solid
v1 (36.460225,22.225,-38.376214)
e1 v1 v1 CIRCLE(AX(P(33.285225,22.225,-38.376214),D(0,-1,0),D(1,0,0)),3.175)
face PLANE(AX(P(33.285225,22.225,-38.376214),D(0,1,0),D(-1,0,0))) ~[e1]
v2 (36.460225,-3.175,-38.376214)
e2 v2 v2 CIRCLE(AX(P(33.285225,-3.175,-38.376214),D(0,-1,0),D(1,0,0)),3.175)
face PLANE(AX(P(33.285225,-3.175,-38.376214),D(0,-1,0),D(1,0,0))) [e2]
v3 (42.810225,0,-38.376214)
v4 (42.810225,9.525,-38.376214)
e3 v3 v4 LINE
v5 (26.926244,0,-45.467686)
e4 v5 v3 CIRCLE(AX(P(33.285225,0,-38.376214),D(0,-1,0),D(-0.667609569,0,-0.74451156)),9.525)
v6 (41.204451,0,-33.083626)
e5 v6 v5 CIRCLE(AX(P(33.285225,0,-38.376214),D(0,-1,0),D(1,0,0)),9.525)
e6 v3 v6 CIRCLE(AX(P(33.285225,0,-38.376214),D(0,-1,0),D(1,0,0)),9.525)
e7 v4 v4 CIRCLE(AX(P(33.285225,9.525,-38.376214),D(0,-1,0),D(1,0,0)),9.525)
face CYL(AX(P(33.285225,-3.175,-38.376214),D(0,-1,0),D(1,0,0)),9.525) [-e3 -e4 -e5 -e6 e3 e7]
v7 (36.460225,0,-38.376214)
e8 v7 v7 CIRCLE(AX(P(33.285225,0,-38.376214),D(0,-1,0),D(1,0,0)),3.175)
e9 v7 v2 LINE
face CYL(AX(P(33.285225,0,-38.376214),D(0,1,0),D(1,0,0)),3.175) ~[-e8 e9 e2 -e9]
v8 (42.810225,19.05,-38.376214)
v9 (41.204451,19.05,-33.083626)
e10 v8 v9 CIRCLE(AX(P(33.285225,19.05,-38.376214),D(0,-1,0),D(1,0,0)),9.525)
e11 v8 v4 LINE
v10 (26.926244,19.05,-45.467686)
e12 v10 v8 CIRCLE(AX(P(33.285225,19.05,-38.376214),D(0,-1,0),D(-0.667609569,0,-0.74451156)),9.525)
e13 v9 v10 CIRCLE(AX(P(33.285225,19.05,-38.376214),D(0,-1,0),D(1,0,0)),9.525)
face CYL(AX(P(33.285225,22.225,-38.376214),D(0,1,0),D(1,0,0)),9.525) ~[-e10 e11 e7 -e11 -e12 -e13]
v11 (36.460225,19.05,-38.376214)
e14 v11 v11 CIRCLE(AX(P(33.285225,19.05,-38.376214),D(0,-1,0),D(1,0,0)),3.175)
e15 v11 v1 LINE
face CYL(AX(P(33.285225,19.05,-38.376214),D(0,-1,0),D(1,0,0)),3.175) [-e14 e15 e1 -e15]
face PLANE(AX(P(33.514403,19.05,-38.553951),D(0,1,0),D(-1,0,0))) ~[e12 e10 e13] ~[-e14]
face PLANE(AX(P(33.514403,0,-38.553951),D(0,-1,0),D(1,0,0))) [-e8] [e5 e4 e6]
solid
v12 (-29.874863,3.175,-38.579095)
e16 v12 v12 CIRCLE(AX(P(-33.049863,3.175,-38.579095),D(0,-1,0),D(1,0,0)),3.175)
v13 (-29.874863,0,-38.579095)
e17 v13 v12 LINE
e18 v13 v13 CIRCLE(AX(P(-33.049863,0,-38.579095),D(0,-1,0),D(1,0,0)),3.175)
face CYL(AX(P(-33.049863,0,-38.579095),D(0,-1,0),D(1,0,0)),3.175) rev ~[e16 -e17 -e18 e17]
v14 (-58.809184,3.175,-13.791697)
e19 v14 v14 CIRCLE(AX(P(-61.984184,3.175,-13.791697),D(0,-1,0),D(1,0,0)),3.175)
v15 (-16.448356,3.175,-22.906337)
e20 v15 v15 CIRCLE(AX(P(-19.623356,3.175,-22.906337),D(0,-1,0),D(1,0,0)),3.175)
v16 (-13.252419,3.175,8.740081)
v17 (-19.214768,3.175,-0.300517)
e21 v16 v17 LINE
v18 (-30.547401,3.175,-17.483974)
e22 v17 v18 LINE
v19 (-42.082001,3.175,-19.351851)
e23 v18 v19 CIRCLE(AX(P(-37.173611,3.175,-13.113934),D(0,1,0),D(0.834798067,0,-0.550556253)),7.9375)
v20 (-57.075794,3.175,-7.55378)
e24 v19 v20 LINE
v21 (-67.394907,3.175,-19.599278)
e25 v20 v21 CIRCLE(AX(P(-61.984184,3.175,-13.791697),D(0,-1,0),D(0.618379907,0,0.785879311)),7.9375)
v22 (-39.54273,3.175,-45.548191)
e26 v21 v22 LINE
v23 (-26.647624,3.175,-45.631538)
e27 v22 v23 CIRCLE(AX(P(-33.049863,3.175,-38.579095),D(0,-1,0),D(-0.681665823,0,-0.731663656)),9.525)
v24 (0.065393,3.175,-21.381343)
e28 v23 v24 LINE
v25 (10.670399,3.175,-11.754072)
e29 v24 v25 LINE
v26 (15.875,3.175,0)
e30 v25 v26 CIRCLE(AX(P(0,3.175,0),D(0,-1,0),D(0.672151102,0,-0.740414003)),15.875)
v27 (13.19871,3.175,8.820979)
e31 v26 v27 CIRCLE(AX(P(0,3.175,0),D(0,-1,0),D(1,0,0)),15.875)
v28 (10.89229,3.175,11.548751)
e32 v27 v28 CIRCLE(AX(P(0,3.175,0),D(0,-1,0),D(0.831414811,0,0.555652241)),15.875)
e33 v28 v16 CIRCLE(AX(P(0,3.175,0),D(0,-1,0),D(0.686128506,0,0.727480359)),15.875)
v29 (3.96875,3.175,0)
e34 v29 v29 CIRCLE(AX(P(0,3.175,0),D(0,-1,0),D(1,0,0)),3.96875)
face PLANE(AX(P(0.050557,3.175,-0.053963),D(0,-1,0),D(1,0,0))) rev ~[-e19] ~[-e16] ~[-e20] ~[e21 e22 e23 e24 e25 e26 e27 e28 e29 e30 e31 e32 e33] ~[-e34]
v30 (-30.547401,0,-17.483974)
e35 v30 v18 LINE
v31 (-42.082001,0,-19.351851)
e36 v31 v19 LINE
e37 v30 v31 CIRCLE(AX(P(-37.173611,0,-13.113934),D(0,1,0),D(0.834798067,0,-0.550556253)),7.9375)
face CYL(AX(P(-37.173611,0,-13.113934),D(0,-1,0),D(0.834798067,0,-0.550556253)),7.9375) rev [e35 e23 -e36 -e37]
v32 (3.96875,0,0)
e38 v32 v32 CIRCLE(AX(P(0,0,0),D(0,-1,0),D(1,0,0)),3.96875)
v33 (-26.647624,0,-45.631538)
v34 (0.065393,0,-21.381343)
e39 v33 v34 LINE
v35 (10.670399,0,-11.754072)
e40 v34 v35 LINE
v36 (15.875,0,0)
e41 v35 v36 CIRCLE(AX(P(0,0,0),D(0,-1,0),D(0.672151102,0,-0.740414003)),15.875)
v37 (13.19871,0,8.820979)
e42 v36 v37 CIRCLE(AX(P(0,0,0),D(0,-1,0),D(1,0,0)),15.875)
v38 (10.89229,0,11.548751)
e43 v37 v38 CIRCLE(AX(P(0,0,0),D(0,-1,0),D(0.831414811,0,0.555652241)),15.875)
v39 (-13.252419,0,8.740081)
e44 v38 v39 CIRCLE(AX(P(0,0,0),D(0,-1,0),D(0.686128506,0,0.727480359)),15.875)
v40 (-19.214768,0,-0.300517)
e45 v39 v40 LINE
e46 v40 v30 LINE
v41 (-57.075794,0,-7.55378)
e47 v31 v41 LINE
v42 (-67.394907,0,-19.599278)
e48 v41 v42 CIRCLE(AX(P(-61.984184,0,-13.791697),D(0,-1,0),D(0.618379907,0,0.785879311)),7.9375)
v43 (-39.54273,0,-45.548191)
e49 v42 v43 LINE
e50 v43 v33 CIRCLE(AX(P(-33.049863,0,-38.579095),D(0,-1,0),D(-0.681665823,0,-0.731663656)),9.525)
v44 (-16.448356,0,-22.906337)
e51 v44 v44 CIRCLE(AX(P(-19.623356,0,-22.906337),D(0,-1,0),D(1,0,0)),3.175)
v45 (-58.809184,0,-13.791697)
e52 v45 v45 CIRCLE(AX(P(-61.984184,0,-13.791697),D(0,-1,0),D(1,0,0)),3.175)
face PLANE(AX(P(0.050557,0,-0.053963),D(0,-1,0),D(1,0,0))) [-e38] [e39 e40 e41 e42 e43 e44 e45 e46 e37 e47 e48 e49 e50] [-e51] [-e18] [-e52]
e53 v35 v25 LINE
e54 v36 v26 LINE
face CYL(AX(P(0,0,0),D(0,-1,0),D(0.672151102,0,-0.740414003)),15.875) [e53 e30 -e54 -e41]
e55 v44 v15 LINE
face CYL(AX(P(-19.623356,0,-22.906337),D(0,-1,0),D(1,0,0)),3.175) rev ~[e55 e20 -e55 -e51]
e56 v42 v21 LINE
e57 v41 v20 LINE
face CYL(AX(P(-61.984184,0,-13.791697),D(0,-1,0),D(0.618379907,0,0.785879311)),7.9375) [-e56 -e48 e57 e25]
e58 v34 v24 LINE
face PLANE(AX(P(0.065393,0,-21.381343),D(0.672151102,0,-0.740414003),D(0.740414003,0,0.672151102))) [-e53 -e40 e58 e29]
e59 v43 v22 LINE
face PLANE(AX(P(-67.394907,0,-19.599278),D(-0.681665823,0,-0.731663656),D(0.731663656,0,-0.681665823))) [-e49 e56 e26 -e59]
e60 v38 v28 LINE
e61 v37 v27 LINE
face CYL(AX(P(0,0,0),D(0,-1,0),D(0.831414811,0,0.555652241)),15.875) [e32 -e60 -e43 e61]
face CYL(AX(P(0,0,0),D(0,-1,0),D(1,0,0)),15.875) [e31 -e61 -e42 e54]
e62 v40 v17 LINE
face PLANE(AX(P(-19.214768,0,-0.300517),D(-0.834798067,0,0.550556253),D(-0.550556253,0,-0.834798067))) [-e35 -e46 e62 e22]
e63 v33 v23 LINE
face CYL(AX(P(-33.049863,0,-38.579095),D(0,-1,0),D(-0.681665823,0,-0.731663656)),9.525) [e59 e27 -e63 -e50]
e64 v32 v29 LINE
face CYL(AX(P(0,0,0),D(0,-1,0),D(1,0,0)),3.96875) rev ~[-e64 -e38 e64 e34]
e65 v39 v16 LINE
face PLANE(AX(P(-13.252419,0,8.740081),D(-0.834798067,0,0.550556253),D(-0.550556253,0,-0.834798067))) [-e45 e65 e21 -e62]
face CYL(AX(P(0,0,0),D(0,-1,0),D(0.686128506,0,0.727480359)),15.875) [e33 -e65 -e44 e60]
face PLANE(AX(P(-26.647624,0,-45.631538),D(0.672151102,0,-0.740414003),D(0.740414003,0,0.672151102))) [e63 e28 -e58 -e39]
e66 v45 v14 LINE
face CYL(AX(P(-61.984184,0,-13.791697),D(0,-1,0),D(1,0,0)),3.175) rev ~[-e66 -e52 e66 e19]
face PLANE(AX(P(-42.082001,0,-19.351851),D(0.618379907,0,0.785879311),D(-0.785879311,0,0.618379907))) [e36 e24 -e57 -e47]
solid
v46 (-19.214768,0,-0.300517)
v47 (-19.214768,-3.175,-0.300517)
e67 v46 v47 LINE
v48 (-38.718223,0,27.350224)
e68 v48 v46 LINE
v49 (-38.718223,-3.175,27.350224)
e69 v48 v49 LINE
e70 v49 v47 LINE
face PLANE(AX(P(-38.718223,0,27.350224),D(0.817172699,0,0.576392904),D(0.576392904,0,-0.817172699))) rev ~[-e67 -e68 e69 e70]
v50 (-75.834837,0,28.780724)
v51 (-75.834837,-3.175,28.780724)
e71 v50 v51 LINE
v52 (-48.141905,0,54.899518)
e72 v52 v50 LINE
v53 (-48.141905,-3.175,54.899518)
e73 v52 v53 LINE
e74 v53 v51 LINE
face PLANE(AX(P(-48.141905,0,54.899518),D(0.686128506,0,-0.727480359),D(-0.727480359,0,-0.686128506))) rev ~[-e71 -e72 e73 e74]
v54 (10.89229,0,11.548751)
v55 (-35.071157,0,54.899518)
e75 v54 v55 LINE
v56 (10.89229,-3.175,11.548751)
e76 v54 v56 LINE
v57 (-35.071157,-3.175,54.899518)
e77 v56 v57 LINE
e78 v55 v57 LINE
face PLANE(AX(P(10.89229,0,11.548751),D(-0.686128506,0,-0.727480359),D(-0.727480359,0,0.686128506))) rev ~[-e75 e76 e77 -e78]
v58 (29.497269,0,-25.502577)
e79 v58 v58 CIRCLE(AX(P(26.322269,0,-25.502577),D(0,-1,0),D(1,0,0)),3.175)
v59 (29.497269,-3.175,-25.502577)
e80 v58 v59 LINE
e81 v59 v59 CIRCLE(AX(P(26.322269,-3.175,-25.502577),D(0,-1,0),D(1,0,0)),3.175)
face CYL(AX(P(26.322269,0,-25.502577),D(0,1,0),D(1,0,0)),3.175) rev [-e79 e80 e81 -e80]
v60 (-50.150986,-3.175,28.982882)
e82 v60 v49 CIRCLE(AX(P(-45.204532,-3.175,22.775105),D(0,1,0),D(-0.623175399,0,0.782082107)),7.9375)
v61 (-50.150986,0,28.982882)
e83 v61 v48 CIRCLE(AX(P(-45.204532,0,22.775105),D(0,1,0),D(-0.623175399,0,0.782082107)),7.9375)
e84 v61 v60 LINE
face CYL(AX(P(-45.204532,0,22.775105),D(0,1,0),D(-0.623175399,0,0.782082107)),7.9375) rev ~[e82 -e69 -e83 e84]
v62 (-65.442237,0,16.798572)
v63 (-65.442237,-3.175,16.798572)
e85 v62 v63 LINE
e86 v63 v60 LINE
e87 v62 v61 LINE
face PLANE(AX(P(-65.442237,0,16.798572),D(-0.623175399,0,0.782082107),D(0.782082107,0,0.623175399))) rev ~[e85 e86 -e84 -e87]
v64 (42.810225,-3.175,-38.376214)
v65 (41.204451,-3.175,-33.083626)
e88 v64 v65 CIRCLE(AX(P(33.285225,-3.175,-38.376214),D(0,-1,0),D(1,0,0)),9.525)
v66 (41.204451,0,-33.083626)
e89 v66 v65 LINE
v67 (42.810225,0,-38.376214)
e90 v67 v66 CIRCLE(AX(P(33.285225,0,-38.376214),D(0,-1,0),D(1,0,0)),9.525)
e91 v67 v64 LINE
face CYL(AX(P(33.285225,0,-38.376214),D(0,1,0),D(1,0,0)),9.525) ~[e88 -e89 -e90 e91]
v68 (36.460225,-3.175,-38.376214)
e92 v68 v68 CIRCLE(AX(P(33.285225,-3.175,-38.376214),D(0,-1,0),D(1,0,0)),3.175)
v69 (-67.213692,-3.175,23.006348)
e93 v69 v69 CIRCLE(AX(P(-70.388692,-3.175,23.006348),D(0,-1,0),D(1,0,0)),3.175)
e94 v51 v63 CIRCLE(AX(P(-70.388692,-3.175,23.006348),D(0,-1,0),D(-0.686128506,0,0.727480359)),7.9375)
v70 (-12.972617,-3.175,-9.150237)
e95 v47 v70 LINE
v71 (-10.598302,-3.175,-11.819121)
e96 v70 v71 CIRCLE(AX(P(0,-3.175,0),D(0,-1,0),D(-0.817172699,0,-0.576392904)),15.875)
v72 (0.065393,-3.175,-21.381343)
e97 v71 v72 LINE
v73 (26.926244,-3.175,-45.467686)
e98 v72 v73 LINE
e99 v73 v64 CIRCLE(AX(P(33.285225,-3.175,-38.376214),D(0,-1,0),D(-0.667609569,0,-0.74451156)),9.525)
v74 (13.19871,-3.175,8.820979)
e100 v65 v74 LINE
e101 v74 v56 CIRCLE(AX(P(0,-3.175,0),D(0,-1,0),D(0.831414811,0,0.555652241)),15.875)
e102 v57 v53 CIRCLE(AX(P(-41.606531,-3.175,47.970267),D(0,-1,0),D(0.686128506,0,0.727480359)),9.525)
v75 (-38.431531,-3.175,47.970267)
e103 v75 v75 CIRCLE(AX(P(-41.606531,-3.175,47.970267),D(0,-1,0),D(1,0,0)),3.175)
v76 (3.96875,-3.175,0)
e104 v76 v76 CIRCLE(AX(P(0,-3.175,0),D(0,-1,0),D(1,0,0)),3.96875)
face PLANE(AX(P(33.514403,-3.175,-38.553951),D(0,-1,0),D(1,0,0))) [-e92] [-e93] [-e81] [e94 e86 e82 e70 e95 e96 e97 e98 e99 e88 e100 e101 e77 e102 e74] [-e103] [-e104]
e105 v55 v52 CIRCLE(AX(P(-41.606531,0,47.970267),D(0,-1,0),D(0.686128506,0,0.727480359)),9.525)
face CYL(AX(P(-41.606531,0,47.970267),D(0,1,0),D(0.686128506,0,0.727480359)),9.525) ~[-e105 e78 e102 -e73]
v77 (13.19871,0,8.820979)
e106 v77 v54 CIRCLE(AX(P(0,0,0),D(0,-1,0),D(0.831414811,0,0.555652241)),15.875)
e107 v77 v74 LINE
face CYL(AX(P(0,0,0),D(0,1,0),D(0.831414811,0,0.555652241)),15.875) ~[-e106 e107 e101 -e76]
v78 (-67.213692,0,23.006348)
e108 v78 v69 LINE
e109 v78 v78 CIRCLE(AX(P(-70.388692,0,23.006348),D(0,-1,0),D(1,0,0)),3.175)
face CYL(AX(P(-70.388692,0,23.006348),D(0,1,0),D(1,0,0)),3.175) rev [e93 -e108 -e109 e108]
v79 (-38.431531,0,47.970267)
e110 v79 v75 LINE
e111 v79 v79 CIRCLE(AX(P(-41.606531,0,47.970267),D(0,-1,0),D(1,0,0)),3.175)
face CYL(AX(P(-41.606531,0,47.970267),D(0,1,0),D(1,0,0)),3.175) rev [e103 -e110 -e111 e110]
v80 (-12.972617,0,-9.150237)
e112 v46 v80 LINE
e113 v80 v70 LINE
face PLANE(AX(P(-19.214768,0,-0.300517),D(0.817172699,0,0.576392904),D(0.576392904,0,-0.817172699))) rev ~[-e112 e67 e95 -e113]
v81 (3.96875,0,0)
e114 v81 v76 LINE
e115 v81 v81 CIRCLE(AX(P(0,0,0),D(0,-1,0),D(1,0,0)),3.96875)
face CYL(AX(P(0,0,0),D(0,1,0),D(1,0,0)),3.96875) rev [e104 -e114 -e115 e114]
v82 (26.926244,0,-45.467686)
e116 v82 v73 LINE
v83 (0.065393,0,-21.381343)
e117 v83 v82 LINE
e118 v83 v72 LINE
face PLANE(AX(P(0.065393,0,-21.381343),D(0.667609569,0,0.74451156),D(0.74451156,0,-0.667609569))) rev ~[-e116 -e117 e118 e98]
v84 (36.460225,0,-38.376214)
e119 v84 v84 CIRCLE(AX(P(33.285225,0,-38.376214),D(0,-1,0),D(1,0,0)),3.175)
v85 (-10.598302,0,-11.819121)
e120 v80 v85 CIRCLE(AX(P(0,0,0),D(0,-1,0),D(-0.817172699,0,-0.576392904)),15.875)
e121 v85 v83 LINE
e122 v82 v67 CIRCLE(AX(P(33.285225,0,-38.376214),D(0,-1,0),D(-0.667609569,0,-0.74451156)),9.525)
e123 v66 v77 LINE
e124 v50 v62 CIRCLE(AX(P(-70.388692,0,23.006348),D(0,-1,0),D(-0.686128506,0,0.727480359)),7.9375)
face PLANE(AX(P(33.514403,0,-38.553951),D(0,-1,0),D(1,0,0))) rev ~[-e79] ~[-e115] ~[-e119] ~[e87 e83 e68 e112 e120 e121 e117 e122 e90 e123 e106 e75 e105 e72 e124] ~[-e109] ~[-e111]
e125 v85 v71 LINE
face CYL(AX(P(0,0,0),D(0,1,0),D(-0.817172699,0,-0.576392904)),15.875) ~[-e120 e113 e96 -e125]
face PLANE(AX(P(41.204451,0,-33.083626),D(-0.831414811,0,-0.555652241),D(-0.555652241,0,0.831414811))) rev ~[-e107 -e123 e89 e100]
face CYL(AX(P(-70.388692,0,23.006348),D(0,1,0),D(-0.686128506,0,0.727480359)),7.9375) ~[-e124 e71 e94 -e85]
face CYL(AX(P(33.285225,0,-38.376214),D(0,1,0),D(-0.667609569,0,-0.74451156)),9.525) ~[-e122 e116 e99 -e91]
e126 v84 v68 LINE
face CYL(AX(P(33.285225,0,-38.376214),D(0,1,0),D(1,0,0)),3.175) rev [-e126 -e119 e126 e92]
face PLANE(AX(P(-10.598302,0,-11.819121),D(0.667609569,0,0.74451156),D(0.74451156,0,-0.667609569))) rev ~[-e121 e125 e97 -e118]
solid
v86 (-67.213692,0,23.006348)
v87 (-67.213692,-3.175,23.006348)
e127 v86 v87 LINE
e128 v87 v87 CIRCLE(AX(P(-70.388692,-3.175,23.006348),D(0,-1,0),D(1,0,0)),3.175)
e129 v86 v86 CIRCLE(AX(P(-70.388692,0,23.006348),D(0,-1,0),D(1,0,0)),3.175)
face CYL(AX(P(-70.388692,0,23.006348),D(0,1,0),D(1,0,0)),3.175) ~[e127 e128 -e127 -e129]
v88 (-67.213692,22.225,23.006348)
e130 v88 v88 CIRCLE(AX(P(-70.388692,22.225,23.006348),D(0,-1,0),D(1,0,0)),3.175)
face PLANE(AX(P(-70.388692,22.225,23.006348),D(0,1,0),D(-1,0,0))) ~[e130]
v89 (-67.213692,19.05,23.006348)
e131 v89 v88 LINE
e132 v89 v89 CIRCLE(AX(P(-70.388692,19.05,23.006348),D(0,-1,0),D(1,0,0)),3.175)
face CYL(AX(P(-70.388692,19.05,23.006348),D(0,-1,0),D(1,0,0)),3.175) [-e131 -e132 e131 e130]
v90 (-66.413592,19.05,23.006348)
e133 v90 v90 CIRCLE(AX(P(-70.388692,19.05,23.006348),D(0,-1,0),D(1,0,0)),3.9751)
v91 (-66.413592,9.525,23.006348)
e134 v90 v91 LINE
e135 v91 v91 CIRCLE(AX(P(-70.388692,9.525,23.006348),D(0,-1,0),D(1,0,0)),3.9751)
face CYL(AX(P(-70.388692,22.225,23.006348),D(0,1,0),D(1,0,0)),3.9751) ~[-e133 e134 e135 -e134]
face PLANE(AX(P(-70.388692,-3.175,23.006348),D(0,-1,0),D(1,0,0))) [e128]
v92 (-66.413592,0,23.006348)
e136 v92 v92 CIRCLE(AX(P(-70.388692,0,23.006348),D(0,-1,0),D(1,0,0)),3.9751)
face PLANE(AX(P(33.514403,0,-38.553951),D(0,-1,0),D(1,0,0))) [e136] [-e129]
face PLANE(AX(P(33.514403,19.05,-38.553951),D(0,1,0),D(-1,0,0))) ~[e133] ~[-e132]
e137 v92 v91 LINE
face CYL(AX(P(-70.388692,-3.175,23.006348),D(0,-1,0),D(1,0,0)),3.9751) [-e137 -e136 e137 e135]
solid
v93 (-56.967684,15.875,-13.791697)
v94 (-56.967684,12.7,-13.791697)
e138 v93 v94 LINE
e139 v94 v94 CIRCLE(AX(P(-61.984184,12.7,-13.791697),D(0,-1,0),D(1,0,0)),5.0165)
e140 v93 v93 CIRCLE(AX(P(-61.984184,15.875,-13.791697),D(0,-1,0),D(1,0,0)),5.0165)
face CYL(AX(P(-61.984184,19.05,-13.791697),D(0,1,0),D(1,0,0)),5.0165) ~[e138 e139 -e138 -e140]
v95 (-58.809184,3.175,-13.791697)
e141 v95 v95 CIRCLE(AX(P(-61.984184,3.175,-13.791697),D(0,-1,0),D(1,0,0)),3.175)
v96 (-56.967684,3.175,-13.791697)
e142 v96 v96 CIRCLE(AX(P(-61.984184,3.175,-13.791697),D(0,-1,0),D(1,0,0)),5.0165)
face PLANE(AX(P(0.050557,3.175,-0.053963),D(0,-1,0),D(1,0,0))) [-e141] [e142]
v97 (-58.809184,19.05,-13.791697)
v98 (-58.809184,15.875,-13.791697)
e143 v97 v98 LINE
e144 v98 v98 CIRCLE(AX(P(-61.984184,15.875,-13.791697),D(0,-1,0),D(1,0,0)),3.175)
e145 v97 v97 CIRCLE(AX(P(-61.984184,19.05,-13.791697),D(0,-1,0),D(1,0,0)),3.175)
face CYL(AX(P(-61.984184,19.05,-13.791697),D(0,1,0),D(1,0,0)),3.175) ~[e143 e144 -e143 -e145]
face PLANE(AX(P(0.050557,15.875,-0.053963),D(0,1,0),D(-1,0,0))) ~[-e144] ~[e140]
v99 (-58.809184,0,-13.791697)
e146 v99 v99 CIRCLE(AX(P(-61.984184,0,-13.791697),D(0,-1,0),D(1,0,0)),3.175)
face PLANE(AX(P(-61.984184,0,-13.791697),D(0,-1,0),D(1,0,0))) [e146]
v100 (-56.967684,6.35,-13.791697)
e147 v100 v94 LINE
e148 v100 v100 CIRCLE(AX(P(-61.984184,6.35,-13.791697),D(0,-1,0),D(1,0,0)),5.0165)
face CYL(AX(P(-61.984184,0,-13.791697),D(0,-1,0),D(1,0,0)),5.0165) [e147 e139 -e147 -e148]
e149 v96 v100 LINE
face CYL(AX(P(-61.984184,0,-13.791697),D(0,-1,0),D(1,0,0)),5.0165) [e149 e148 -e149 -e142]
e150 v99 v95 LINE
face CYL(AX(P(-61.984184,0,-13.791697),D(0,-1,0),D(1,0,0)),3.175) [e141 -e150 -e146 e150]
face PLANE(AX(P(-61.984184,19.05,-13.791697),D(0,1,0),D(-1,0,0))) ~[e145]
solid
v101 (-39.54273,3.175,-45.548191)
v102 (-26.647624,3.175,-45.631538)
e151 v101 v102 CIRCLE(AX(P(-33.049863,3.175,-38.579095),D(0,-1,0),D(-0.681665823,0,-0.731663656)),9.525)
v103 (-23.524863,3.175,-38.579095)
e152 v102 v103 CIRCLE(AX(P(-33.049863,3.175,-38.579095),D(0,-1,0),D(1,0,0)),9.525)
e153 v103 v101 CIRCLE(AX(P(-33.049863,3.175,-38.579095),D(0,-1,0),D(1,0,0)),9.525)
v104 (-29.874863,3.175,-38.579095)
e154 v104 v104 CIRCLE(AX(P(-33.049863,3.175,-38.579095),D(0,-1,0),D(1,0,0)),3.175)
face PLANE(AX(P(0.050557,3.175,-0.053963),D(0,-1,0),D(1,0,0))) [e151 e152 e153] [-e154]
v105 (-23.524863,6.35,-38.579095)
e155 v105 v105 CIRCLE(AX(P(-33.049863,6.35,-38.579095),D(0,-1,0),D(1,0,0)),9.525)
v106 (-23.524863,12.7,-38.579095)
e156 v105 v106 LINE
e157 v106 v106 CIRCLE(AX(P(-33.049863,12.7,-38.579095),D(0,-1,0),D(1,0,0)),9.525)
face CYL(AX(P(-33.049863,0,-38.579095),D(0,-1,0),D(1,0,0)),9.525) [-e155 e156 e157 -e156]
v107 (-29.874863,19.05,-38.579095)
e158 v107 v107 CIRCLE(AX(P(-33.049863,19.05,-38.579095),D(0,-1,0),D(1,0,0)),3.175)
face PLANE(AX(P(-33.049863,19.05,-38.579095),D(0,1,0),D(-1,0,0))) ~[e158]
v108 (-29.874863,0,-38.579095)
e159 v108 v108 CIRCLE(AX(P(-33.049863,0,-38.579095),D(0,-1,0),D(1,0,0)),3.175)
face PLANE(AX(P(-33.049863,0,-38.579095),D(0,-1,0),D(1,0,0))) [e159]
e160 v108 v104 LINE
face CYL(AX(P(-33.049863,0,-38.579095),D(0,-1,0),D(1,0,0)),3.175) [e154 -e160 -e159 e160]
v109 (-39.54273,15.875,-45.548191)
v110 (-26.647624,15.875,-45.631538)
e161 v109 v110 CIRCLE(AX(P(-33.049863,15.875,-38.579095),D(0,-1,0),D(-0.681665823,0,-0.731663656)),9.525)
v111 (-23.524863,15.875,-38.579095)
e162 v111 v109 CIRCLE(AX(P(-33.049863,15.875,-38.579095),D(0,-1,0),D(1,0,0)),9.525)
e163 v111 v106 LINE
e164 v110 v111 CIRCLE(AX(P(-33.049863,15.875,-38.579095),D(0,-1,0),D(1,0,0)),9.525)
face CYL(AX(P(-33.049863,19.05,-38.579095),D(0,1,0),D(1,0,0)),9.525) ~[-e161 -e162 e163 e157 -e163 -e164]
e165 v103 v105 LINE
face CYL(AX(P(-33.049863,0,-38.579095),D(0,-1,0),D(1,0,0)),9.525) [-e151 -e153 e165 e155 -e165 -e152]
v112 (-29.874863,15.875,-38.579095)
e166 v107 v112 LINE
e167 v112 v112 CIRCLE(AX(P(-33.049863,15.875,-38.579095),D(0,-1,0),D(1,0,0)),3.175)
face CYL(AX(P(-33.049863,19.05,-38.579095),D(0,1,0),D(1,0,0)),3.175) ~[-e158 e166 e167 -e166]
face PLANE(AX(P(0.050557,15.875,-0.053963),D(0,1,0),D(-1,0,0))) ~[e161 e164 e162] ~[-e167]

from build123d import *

# Parameters (mm, degrees)
F0_R     = 3.175
F0_R_2   = 3.96875
F2_DEPTH = 3.175
F3_DEPTH = 3.175
F4_R     = 9.525
F6_DEPTH = 12.7
F4_R_2   = 3.9751
F5_R     = 9.525
F5_R_2   = 5.0165


with BuildPart() as f2:
    # F0 (on Front) → F2 (new body)
    with BuildSketch(Plane.XZ):
        with BuildLine():
            ThreePointArc((26.9262440233, -45.4676864135), (37.1682864336, -47.0737686401), (42.8102251661, -38.3762138003))
            ThreePointArc((42.8102251661, -38.3762138003), (42.3999454948, -35.6108027404), (41.2044512386, -33.0836262089))
            ThreePointArc((41.2044512386, -33.0836262089), (27.0442454474, -31.1806737127), (26.9262440233, -45.4676864135))
        make_face()
        with Locations((33.2852251661, -38.3762138003)):
            Circle(F0_R, mode=Mode.SUBTRACT)
        with BuildLine():
            ThreePointArc((-32.0815314576, 47.9702672503), (-32.8608164346, 51.7436071154), (-35.0711574392, 54.8995176744))
            ThreePointArc((-35.0711574392, 54.8995176744), (-41.6065314576, 57.4952672503), (-48.1419054761, 54.8995176744))
            ThreePointArc((-48.1419054761, 54.8995176744), (-45.3798713227, 39.2245522274), (-32.0815314576, 47.9702672503))
        make_face()
        with Locations((-41.6065314576, 47.9702672503)):
            Circle(F0_R, mode=Mode.SUBTRACT)
        with BuildLine():
            ThreePointArc((-62.4511918078, 23.0063483758), (-67.2442419203, 30.2944442282), (-75.8348368232, 28.7807237291))
            ThreePointArc((-75.8348368232, 28.7807237291), (-76.3849752141, 17.8055319436), (-65.4422370763, 16.798571653))
            ThreePointArc((-65.4422370763, 16.798571653), (-63.237943921, 19.5609585706), (-62.4511918078, 23.0063483758))
        make_face()
        with Locations((-70.3886918078, 23.0063483758)):
            Circle(F0_R, mode=Mode.SUBTRACT)
        with BuildLine():
            ThreePointArc((-12.9726166036, -9.1502373442), (-15.8730587934, -0.2482529814), (-13.2524193062, 8.7400805221))
            Line((-13.2524193062, 8.7400805221), (-19.2147683858, -0.3005169703))
            Line((-19.2147683858, -0.3005169703), (-12.9726166036, -9.1502373442))
        make_face()
        with BuildLine():
            Line((-10.5983019047, -11.8191210221), (0.0653932355, -21.3813431455))
            Line((0.0653932355, -21.3813431455), (10.6703987497, -11.7540722953))
            ThreePointArc((10.6703987497, -11.7540722953), (0.0485522706, -15.8749257534), (-10.5983019047, -11.8191210221))
        make_face()
        with BuildLine():
            ThreePointArc((26.9262440233, -45.4676864135), (27.0442454474, -31.1806737127), (41.2044512386, -33.0836262089))
            Line((41.2044512386, -33.0836262089), (13.1987101208, 8.820979319))
            ThreePointArc((13.1987101208, 8.820979319), (15.1912005478, 4.609018433), (15.875, 0))
            ThreePointArc((15.875, 0), (14.5156502636, -6.4274040191), (10.6703987497, -11.7540722953))
            Line((10.6703987497, -11.7540722953), (0.0653932355, -21.3813431455))
            Line((0.0653932355, -21.3813431455), (26.9262440233, -45.4676864135))
        make_face()
        with Locations((26.3222689506, -25.5025770961)):
            Circle(F0_R, mode=Mode.SUBTRACT)
        with BuildLine():
            ThreePointArc((-13.2524193062, 8.7400805221), (-1.834314477, 15.7686687897), (10.8922900307, 11.5487507067))
            Line((10.8922900307, 11.5487507067), (-35.0711574392, 54.8995176744))
            ThreePointArc((-35.0711574392, 54.8995176744), (-32.8608164346, 51.7436071154), (-32.0815314576, 47.9702672503))
            ThreePointArc((-32.0815314576, 47.9702672503), (-45.3798713227, 39.2245522274), (-48.1419054761, 54.8995176744))
            Line((-48.1419054761, 54.8995176744), (-75.8348368232, 28.7807237291))
            ThreePointArc((-75.8348368232, 28.7807237291), (-67.2442419203, 30.2944442282), (-62.4511918078, 23.0063483758))
            ThreePointArc((-62.4511918078, 23.0063483758), (-63.237943921, 19.5609585706), (-65.4422370763, 16.798571653))
            Line((-65.4422370763, 16.798571653), (-50.1509863937, 28.9828821829))
            ThreePointArc((-50.1509863937, 28.9828821829), (-44.0823996147, 30.6328866939), (-38.7182233604, 27.3502241323))
            Line((-38.7182233604, 27.3502241323), (-19.2147683858, -0.3005169703))
            Line((-19.2147683858, -0.3005169703), (-13.2524193062, 8.7400805221))
        make_face()
        with BuildLine():
            ThreePointArc((15.875, 0), (15.1912005478, 4.609018433), (13.1987101208, 8.820979319))
            ThreePointArc((13.1987101208, 8.820979319), (12.1224690662, 10.2499448164), (10.8922900307, 11.5487507067))
            ThreePointArc((10.8922900307, 11.5487507067), (-1.834314477, 15.7686687897), (-13.2524193062, 8.7400805221))
            ThreePointArc((-13.2524193062, 8.7400805221), (-15.8730587934, -0.2482529814), (-12.9726166036, -9.1502373442))
            ThreePointArc((-12.9726166036, -9.1502373442), (-11.8607666217, -10.5516747555), (-10.5983019047, -11.8191210221))
            ThreePointArc((-10.5983019047, -11.8191210221), (0.0485522706, -15.8749257534), (10.6703987497, -11.7540722953))
            ThreePointArc((10.6703987497, -11.7540722953), (14.5156502636, -6.4274040191), (15.875, 0))
        make_face()
        Circle(F0_R_2, mode=Mode.SUBTRACT)
    extrude(amount=F2_DEPTH)


with BuildPart() as f3:
    # F0 (on Front) → F3 (new body)
    with BuildSketch(Plane.XZ):
        with BuildLine():
            ThreePointArc((15.875, 0), (15.1912005478, 4.609018433), (13.1987101208, 8.820979319))
            ThreePointArc((13.1987101208, 8.820979319), (12.1224690662, 10.2499448164), (10.8922900307, 11.5487507067))
            ThreePointArc((10.8922900307, 11.5487507067), (-1.834314477, 15.7686687897), (-13.2524193062, 8.7400805221))
            ThreePointArc((-13.2524193062, 8.7400805221), (-15.8730587934, -0.2482529814), (-12.9726166036, -9.1502373442))
            ThreePointArc((-12.9726166036, -9.1502373442), (-11.8607666217, -10.5516747555), (-10.5983019047, -11.8191210221))
            ThreePointArc((-10.5983019047, -11.8191210221), (0.0485522706, -15.8749257534), (10.6703987497, -11.7540722953))
            ThreePointArc((10.6703987497, -11.7540722953), (14.5156502636, -6.4274040191), (15.875, 0))
        make_face()
        Circle(F0_R_2, mode=Mode.SUBTRACT)
        with BuildLine():
            Line((-10.5983019047, -11.8191210221), (0.0653932355, -21.3813431455))
            Line((0.0653932355, -21.3813431455), (10.6703987497, -11.7540722953))
            ThreePointArc((10.6703987497, -11.7540722953), (0.0485522706, -15.8749257534), (-10.5983019047, -11.8191210221))
        make_face()
        with BuildLine():
            ThreePointArc((-12.9726166036, -9.1502373442), (-15.8730587934, -0.2482529814), (-13.2524193062, 8.7400805221))
            Line((-13.2524193062, 8.7400805221), (-19.2147683858, -0.3005169703))
            Line((-19.2147683858, -0.3005169703), (-12.9726166036, -9.1502373442))
        make_face()
        with BuildLine():
            Line((-26.647623873, -45.6315380732), (0.0653932355, -21.3813431455))
            Line((0.0653932355, -21.3813431455), (-10.5983019047, -11.8191210221))
            ThreePointArc((-10.5983019047, -11.8191210221), (-11.8607666217, -10.5516747555), (-12.9726166036, -9.1502373442))
            Line((-12.9726166036, -9.1502373442), (-19.2147683858, -0.3005169703))
            Line((-19.2147683858, -0.3005169703), (-30.5474012326, -17.4839744853))
            ThreePointArc((-30.5474012326, -17.4839744853), (-35.9047663103, -20.9493627188), (-42.0820013957, -19.3518512525))
            Line((-42.0820013957, -19.3518512525), (-57.0757936348, -7.5537803256))
            ThreePointArc((-57.0757936348, -7.5537803256), (-54.8440071189, -10.3244537385), (-54.0466841448, -13.7916973539))
            ThreePointArc((-54.0466841448, -13.7916973539), (-58.817458973, -21.070142101), (-67.394906617, -19.5992776228))
            Line((-67.394906617, -19.5992776228), (-39.5427300894, -45.5481910186))
            ThreePointArc((-39.5427300894, -45.5481910186), (-36.849933329, -29.8449609995), (-23.5248631228, -38.579094696))
            ThreePointArc((-23.5248631228, -38.579094696), (-24.3404729646, -42.4355371074), (-26.647623873, -45.6315380732))
        make_face()
        with Locations((-19.6233562292, -22.9063374758)):
            Circle(F0_R, mode=Mode.SUBTRACT)
        with BuildLine():
            ThreePointArc((-39.5427300894, -45.5481910186), (-33.1114263313, -48.1038957423), (-26.647623873, -45.6315380732))
            ThreePointArc((-26.647623873, -45.6315380732), (-24.3404729646, -42.4355371074), (-23.5248631228, -38.579094696))
            ThreePointArc((-23.5248631228, -38.579094696), (-36.849933329, -29.8449609995), (-39.5427300894, -45.5481910186))
        make_face()
        with Locations((-33.0498631228, -38.579094696)):
            Circle(F0_R, mode=Mode.SUBTRACT)
        with BuildLine():
            ThreePointArc((-57.0757936348, -7.5537803256), (-68.0121676911, -8.627656241), (-67.394906617, -19.5992776228))
            ThreePointArc((-67.394906617, -19.5992776228), (-58.817458973, -21.070142101), (-54.0466841448, -13.7916973539))
            ThreePointArc((-54.0466841448, -13.7916973539), (-54.8440071189, -10.3244537385), (-57.0757936348, -7.5537803256))
        make_face()
        with Locations((-61.9841841448, -13.7916973539)):
            Circle(F0_R, mode=Mode.SUBTRACT)
    extrude(amount=-F3_DEPTH)


with BuildPart() as f6:
    # F4 (on face) → F6 (new body, through all)
    with BuildSketch(Plane.XZ.offset(3.175)):
        with Locations((33.2852251661, -38.3762138003)):
            Circle(F4_R)
    extrude(amount=-F6_DEPTH)

    # F7: cut F3, F2
    add(f3.part, mode=Mode.SUBTRACT)
    add(f2.part, mode=Mode.SUBTRACT)



with BuildPart() as f6b:
    # F4 (on face) → F6, piece 2 (new body, through all)
    with BuildSketch(Plane.XZ.offset(3.175)):
        with Locations((-70.3886918078, 23.0063483758)):
            Circle(F4_R_2)
    extrude(amount=-F6_DEPTH)

    # F7: cut F3, F2
    add(f3.part, mode=Mode.SUBTRACT)
    add(f2.part, mode=Mode.SUBTRACT)


with BuildPart() as f6c:
    # F5 (on face) → F6, piece 3 (new body, through all)
    with BuildSketch(Plane.XZ):
        with Locations((-33.0498631228, -38.579094696)):
            Circle(F5_R)
    extrude(amount=-F6_DEPTH)

    # F7: cut F3, F2
    add(f3.part, mode=Mode.SUBTRACT)
    add(f2.part, mode=Mode.SUBTRACT)


with BuildPart() as f6d:
    # F5 (on face) → F6, piece 4 (new body, through all)
    with BuildSketch(Plane.XZ):
        with Locations((-61.9841841448, -13.7916973539)):
            Circle(F5_R_2)
    extrude(amount=-F6_DEPTH)

    # F7: cut F3, F2
    add(f3.part, mode=Mode.SUBTRACT)
    add(f2.part, mode=Mode.SUBTRACT)


with BuildPart() as f6_1:
    add(f6.part)

    add(f6b.part)  # F8 merges F6b

    add(f6c.part)  # F8 merges F6c

    add(f6d.part)  # F8 merges F6d
    # F8: F6b, F6d, F6c, F6 across plane
    add(f6b.part.mirror(Plane.XZ.offset(-9.525)))
    add(f6d.part.mirror(Plane.XZ.offset(-9.525)))
    add(f6c.part.mirror(Plane.XZ.offset(-9.525)))
    add(f6.part.mirror(Plane.XZ.offset(-9.525)))


solid = Compound([f2.part, f3.part, f6_1.part])
